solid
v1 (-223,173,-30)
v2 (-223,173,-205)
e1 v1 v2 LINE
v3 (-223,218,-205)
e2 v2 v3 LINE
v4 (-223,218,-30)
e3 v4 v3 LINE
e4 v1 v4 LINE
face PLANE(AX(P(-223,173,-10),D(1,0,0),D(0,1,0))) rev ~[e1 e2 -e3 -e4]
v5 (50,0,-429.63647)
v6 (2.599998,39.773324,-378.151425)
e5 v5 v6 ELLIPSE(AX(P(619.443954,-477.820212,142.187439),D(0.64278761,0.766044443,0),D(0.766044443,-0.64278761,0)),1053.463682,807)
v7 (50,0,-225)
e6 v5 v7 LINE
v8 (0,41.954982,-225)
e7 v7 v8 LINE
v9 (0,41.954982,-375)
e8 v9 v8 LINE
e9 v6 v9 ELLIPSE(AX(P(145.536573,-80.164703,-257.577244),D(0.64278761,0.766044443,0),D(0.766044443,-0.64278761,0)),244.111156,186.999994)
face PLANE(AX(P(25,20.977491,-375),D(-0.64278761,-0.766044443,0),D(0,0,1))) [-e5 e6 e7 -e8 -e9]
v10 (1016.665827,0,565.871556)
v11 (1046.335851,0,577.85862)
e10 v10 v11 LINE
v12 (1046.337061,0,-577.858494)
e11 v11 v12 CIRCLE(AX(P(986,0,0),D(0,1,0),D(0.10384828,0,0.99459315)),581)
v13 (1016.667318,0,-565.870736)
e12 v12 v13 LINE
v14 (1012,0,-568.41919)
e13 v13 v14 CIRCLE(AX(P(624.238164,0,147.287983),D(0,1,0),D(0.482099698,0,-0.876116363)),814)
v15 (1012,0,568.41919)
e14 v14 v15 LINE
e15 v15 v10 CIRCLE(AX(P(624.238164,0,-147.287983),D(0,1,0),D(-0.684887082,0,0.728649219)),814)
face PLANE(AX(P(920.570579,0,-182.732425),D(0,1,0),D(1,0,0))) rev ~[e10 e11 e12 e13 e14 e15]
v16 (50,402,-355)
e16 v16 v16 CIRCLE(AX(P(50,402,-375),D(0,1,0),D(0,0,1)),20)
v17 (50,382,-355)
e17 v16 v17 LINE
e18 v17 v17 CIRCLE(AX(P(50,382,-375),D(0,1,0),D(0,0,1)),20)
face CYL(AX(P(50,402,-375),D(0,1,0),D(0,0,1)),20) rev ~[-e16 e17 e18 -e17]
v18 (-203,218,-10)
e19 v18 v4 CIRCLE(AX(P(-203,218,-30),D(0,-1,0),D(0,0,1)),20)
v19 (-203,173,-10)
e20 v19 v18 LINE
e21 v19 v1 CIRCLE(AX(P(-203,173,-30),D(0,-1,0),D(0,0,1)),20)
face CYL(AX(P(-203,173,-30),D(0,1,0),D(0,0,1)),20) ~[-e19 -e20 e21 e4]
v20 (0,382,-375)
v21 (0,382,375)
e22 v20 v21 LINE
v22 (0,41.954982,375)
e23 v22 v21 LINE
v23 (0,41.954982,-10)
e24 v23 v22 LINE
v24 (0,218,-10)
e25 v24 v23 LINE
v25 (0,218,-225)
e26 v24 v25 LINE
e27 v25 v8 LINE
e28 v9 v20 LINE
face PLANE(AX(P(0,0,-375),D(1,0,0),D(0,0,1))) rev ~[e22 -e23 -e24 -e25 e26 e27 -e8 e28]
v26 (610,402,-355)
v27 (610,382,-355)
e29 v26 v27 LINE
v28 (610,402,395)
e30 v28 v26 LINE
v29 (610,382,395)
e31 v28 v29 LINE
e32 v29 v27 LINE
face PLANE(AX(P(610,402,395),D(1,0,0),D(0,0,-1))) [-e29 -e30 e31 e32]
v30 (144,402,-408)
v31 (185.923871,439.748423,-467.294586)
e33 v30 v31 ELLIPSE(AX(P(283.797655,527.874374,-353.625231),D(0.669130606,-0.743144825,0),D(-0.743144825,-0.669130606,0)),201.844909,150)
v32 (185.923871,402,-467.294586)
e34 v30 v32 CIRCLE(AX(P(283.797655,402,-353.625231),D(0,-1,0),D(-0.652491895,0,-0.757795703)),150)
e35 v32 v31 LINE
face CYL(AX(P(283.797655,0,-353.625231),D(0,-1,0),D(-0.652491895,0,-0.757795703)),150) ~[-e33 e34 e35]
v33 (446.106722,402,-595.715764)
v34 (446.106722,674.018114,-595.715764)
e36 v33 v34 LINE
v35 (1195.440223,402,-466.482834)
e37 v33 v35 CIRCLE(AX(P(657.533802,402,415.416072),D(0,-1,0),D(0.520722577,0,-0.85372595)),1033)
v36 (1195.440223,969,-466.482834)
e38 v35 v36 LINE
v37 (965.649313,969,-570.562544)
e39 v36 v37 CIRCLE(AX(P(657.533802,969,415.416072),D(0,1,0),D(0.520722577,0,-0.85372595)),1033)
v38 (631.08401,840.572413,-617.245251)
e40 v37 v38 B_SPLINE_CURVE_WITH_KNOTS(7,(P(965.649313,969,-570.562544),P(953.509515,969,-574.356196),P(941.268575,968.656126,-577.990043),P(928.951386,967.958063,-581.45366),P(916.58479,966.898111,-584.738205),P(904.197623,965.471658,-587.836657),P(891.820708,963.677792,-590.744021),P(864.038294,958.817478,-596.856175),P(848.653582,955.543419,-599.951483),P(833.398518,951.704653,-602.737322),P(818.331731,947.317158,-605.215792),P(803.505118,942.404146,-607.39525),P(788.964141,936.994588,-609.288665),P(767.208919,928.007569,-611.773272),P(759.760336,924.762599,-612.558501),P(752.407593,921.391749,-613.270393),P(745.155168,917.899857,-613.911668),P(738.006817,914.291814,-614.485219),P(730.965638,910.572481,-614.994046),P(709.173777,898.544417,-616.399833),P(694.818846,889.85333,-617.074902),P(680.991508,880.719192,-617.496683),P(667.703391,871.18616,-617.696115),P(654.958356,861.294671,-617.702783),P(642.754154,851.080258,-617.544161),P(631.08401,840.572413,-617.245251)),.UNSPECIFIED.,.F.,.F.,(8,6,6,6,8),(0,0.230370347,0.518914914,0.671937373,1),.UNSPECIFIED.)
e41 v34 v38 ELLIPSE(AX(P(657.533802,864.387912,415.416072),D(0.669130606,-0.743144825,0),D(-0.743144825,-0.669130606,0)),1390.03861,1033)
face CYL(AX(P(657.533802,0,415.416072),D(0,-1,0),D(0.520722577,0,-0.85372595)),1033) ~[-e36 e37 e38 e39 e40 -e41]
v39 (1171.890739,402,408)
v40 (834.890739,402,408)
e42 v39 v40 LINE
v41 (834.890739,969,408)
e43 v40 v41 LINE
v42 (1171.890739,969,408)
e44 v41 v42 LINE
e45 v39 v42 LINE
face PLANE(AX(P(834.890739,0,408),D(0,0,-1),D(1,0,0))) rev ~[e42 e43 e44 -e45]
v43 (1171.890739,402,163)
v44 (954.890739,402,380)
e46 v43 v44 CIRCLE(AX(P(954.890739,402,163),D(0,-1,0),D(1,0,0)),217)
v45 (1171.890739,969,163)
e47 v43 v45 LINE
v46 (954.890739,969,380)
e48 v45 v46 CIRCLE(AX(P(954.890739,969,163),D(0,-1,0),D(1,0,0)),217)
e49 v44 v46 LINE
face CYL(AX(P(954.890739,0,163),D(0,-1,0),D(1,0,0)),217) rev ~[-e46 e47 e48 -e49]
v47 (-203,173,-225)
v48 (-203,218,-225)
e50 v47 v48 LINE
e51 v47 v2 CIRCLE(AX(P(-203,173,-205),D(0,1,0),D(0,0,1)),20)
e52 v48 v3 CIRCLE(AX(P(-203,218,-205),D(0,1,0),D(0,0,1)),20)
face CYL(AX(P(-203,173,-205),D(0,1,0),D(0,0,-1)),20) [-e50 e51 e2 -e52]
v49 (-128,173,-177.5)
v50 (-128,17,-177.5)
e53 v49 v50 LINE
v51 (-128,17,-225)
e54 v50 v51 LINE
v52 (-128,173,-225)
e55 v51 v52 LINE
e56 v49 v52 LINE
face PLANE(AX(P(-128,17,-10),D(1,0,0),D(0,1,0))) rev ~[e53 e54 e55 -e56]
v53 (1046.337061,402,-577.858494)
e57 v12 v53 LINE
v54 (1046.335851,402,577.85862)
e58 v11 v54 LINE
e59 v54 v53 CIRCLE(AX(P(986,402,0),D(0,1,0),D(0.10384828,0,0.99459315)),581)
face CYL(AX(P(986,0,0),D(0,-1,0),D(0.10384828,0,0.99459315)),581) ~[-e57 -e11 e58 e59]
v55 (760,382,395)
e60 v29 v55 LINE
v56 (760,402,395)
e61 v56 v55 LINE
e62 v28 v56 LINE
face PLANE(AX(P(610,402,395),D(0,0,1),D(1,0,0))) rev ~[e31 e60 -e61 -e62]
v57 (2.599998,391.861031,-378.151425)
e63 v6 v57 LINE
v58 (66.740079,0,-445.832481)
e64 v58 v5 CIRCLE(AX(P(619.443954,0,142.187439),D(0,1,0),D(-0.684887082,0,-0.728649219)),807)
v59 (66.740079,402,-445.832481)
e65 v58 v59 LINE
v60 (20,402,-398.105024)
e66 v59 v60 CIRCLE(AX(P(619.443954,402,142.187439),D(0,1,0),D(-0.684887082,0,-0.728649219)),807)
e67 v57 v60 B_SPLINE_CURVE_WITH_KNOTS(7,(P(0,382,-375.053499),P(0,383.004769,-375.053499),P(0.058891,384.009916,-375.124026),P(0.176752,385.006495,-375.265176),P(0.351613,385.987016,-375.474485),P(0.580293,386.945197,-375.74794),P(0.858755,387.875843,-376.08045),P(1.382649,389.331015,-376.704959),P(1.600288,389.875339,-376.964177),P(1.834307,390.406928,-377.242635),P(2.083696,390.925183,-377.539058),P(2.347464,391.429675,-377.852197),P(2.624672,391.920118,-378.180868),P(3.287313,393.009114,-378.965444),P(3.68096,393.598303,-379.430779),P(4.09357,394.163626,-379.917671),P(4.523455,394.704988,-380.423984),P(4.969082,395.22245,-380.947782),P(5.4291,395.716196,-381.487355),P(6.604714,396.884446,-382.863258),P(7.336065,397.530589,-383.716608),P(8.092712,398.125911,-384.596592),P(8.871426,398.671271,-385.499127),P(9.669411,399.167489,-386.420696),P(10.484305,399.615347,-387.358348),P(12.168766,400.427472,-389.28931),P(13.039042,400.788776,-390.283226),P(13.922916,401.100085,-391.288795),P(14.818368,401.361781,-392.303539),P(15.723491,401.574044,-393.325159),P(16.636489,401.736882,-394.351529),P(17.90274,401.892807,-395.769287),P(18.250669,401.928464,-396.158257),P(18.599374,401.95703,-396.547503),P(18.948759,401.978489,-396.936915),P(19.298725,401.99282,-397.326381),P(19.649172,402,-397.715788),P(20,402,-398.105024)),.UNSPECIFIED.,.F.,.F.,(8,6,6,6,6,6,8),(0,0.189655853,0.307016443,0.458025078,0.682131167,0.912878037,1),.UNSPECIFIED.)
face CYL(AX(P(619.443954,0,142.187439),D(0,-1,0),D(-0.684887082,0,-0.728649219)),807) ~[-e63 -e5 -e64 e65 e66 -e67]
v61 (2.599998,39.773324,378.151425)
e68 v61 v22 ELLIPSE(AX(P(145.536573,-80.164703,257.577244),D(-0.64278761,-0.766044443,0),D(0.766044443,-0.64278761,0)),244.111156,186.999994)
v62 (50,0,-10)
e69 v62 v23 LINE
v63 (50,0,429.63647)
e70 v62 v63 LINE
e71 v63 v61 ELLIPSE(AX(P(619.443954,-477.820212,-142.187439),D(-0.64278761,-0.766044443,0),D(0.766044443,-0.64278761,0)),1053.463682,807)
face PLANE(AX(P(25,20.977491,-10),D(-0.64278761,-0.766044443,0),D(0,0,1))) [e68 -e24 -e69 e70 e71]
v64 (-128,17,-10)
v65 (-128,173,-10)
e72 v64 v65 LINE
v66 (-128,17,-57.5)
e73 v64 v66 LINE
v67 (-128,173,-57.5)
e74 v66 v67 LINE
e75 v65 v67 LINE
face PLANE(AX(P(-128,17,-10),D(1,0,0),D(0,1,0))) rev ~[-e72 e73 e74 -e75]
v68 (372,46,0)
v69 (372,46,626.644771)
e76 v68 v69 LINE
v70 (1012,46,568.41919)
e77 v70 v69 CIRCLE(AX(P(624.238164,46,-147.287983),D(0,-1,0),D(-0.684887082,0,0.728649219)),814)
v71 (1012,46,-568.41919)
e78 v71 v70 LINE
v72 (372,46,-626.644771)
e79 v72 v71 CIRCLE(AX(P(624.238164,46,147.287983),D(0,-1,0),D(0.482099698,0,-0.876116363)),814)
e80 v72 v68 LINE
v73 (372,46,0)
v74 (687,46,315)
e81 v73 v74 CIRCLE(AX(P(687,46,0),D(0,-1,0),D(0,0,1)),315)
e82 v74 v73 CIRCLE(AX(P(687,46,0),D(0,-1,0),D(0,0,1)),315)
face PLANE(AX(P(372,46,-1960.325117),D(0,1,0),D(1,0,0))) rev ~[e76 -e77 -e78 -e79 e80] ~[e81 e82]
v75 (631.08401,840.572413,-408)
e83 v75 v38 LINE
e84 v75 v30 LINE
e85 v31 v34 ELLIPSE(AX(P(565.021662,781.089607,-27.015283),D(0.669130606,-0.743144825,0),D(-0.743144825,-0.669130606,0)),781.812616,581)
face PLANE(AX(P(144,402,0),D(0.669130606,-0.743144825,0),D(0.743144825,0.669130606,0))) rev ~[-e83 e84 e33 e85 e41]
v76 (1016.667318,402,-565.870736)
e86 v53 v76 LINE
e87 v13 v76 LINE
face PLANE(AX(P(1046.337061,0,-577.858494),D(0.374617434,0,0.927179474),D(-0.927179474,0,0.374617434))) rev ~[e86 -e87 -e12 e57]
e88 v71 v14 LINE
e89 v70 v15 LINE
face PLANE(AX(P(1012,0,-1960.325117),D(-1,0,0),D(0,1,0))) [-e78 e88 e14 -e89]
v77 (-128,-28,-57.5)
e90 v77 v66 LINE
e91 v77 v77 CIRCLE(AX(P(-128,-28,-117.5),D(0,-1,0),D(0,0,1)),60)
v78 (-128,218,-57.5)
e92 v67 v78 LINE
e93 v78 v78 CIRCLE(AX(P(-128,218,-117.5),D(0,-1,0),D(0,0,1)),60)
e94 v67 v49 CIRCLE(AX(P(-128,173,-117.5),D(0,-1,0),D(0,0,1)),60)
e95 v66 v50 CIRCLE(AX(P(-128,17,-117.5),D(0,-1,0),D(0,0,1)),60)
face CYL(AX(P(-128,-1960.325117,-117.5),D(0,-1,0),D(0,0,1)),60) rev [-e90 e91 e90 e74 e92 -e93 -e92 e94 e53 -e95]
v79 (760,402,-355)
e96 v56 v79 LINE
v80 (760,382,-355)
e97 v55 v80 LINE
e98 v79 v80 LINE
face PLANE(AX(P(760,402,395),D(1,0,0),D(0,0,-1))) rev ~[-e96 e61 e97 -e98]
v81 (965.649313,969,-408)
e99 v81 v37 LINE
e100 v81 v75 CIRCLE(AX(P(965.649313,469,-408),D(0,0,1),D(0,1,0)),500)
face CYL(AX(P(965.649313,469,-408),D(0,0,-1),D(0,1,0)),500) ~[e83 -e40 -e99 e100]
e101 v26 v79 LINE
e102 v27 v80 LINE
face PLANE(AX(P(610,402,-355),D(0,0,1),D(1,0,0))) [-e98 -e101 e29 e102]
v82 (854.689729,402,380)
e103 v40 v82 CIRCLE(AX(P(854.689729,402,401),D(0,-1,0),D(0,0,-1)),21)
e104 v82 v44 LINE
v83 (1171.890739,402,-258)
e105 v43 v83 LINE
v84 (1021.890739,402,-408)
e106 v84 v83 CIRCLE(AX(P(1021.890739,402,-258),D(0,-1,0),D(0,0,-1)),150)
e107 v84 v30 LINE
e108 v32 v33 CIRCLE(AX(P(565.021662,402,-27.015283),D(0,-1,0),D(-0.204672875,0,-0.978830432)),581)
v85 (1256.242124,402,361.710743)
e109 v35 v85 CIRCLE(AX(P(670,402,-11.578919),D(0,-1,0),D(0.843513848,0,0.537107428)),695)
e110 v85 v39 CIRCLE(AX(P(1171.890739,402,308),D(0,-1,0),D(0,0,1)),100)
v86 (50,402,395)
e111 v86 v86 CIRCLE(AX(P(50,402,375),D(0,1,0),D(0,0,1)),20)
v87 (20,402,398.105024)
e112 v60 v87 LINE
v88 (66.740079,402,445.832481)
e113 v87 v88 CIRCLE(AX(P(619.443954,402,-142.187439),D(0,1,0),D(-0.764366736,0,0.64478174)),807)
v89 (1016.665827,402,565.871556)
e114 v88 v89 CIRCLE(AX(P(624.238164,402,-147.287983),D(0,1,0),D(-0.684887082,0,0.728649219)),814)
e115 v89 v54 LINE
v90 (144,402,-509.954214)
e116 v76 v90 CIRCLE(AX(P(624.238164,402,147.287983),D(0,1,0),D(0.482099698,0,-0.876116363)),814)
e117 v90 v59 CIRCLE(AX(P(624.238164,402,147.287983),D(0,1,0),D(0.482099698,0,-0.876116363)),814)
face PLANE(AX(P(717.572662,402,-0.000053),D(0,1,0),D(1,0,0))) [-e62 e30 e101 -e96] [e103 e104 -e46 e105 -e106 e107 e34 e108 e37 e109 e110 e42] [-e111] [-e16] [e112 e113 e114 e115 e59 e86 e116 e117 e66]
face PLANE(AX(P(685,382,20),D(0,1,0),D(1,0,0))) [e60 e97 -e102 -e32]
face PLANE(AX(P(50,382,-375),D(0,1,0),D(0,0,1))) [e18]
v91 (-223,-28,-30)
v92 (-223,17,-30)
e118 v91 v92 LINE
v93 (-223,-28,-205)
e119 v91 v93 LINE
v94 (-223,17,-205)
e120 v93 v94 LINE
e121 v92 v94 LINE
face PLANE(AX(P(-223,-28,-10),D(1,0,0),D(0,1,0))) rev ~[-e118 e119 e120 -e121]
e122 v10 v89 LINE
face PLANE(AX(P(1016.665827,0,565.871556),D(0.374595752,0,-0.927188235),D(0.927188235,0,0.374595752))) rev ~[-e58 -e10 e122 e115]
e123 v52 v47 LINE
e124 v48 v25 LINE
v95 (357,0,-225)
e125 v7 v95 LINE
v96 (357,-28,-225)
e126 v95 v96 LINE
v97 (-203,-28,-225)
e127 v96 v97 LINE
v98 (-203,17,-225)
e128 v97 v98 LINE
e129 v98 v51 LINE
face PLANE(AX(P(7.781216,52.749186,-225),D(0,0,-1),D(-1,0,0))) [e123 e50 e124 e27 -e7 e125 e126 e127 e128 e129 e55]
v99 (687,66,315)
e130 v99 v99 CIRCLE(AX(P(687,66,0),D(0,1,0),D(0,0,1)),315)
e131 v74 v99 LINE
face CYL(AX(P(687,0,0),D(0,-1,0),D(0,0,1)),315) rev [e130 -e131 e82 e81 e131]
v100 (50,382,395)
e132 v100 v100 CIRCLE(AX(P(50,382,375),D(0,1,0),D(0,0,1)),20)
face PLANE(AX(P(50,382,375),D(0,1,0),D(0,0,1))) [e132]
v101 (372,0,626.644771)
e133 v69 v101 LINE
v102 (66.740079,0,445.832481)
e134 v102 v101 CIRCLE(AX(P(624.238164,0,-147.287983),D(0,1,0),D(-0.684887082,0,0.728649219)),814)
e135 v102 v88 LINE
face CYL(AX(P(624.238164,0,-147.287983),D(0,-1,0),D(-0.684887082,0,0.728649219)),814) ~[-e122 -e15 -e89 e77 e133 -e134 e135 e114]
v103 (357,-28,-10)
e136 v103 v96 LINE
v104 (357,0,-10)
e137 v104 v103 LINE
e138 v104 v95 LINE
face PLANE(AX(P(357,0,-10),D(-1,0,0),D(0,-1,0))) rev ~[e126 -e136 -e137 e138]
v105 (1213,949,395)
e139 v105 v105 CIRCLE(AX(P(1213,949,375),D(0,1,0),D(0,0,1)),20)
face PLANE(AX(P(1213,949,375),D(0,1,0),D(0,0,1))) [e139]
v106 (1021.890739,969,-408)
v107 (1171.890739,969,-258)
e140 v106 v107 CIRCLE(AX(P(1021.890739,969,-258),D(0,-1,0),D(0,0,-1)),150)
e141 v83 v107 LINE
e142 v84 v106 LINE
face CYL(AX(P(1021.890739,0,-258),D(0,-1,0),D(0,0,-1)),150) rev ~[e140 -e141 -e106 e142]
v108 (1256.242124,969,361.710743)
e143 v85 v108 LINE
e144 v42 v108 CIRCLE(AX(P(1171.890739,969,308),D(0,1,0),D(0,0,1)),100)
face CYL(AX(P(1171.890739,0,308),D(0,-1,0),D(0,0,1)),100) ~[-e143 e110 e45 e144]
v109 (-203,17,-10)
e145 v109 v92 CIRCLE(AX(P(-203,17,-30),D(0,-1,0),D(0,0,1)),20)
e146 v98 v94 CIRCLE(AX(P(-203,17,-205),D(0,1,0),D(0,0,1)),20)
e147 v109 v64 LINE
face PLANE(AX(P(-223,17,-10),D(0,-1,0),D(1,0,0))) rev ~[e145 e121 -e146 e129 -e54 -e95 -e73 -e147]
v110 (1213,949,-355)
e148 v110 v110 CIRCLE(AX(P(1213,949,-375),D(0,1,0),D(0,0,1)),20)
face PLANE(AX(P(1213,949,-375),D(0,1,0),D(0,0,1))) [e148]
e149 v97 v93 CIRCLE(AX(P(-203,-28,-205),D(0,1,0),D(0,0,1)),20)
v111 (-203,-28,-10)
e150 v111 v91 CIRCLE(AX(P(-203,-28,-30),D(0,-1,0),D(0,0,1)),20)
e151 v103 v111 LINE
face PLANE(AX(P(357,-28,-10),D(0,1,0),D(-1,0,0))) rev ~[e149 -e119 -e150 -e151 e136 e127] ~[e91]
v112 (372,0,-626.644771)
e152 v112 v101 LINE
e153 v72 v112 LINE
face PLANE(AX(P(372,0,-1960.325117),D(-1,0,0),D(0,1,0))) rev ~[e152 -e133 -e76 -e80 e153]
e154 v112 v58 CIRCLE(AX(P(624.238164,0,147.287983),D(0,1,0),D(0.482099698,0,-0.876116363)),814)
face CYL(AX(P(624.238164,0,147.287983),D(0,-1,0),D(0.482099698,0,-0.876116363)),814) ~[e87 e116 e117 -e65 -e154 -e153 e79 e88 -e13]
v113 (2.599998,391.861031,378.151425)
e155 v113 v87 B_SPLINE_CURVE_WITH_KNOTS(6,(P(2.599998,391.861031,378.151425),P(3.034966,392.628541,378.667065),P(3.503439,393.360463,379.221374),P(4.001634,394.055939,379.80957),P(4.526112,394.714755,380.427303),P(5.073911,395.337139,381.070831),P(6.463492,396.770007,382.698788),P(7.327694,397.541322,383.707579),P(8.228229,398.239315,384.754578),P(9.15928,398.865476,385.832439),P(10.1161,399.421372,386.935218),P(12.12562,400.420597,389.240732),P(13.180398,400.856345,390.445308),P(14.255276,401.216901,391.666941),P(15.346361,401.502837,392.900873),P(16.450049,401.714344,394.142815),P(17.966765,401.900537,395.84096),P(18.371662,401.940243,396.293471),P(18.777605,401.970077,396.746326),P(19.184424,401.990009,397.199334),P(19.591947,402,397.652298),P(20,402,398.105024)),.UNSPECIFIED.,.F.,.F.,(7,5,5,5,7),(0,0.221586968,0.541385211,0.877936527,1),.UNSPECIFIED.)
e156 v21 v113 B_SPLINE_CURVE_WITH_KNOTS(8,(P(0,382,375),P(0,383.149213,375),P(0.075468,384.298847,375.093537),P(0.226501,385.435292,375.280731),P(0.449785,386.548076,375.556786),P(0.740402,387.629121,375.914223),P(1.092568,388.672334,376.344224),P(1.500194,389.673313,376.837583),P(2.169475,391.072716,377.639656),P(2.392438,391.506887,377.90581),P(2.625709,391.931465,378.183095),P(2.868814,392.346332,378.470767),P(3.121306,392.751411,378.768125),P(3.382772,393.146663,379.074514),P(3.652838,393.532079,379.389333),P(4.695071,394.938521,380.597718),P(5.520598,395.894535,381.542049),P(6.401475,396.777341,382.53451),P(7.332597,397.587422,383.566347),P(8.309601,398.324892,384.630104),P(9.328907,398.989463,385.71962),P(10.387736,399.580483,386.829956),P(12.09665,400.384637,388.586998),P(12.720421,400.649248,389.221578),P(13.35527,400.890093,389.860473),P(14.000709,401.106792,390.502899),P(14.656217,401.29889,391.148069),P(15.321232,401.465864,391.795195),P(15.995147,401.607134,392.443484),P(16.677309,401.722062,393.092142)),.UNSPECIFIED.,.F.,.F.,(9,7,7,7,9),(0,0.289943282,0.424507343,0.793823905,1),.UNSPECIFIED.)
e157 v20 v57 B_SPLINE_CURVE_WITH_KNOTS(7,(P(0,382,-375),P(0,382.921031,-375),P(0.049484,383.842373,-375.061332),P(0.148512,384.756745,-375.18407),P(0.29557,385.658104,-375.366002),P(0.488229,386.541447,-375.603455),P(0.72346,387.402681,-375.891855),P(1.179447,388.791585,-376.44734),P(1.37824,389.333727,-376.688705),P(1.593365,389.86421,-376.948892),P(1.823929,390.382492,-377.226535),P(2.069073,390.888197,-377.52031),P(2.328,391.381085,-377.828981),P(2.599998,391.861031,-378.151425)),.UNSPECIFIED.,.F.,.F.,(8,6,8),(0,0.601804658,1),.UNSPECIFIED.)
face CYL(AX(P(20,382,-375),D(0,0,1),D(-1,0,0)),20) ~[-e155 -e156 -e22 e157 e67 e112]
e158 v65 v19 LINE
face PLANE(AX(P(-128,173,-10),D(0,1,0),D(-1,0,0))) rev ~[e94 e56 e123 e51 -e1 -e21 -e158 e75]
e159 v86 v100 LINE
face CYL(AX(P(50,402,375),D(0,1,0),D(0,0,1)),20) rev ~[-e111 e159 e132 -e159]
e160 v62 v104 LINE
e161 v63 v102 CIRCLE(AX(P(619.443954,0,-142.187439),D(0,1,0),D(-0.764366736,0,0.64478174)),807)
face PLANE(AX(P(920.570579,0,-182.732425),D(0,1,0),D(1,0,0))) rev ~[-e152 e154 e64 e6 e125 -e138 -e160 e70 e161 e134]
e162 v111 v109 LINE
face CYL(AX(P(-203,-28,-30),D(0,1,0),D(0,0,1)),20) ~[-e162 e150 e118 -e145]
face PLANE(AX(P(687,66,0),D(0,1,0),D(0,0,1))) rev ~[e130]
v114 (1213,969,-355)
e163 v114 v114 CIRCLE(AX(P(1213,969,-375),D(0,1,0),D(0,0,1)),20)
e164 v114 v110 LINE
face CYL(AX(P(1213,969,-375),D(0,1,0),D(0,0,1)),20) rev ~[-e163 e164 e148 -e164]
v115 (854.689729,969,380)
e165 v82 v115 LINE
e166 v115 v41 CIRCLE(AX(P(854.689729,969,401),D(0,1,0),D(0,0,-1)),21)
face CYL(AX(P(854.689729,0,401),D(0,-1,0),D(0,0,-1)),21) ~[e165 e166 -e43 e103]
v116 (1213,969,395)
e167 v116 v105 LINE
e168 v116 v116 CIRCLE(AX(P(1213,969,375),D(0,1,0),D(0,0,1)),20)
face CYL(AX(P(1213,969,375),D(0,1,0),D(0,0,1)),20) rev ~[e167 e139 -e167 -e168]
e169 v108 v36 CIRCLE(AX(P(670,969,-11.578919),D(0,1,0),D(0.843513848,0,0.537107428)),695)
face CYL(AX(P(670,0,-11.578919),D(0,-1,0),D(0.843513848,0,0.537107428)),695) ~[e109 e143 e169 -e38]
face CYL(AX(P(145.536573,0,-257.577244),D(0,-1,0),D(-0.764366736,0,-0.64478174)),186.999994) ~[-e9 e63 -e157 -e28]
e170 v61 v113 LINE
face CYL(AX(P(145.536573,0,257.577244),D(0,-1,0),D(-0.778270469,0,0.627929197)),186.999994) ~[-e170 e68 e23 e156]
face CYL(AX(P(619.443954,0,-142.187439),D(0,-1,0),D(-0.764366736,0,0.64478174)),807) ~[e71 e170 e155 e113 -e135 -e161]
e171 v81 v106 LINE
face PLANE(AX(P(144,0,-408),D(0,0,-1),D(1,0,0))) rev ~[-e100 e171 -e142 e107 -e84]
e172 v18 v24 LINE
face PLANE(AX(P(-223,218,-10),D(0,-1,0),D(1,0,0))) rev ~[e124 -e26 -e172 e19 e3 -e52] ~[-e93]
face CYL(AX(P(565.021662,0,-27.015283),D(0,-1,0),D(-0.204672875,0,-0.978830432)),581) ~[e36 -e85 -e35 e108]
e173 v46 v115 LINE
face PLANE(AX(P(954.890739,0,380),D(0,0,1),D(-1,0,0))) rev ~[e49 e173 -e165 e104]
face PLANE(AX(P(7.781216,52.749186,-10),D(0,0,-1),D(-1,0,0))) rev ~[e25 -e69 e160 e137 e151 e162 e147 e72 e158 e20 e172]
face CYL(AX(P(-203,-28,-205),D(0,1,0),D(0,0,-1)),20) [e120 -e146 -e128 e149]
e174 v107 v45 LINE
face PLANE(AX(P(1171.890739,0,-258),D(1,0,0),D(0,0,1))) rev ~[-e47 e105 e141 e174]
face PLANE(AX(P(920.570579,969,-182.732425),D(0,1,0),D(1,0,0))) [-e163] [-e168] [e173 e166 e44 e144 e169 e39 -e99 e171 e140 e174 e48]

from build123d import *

# Parameters (mm, degrees)
BOSS_EXTRUDE1_DEPTH     = 402
BOSS_EXTRUDE2_DEPTH     = 969
CUT_EXTRUDE1_DEPTH      = 1960.325116763
FILLET1_R               = 500
CUT_EXTRUDE2_START      = 402
SKETCH4_W               = 150
SKETCH4_H               = 750
CUT_EXTRUDE2_DEPTH      = 20
SKETCH7_R               = 20
CUT_EXTRUDE3_DEPTH      = 20
SKETCH8_R               = 20
CUT_EXTRUDE4_DEPTH      = 20
BOSS_EXTRUDE3_START     = -10
BOSS_EXTRUDE3_DEPTH     = 215
FILLET2_R               = 20
CUT_EXTRUDE5_DEPTH      = 226
CUT_EXTRUDE5_DEPTH_BACK = 1960.325116812
SKETCH10_R              = 60
CHAMFER1_SIZE           = 50
CHAMFER1_SIZE2          = 41.954981559
FILLET3_R               = 20
SKETCH11_R              = 315
CUT_EXTRUDE6_DEPTH      = 66
CUT_EXTRUDE7_DEPTH      = 1960.325116812
CUT_EXTRUDE7_DEPTH_BACK = 1960.325116812
SKETCH12_W              = 640
SKETCH12_H              = 46


with BuildPart() as part:
    # Sketch1 → Boss-Extrude1 (new body)
    with BuildSketch(Plane(origin=(0, 0, 0), x_dir=(1, 0, 0), z_dir=(0, 1, 0))):
        with BuildLine():
            Line((1046.337061031, 577.858493981), (1016.667317849, 565.870736079))
            ThreePointArc((1016.667317849, 565.870736079), (522.188011035, 660.289732015), (66.74007867, 445.832480877))
            ThreePointArc((66.74007867, 445.832480877), (33.691690874, 412.919114907), (2.599998001, 378.151425458))
            ThreePointArc((2.599998001, 378.151425458), (1.291392319, 376.582813438), (0, 375))
            Line((0, 375), (0, -375))
            ThreePointArc((0, -375), (1.291392319, -376.582813438), (2.599998001, -378.151425458))
            ThreePointArc((2.599998001, -378.151425458), (33.691690874, -412.919114907), (66.74007867, -445.832480877))
            ThreePointArc((66.74007867, -445.832480877), (522.187167102, -660.28962537), (1016.665827322, -565.871556268))
            Line((1016.665827322, -565.871556268), (1046.335850828, -577.858620343))
            ThreePointArc((1046.335850828, -577.858620343), (1567, -0.000608391), (1046.337061031, 577.858493981))
        make_face()
    extrude(amount=BOSS_EXTRUDE1_DEPTH)

    # Sketch2 → Boss-Extrude2 (add)
    with BuildSketch(Plane(origin=(0, 0, 0), x_dir=(1, 0, 0), z_dir=(0, 1, 0))):
        with BuildLine():
            Line((144, 408), (1021.890739397, 408))
            ThreePointArc((1021.890739397, 408), (1127.956756575, 364.066017178), (1171.890739397, 258))
            Line((1171.890739397, 258), (1171.890739397, -163))
            ThreePointArc((1171.890739397, -163), (1108.332910914, -316.442171517), (954.890739397, -380))
            Line((954.890739397, -380), (854.68972927, -380))
            ThreePointArc((854.68972927, -380), (837.543301071, -388.875644347), (834.890739397, -408))
            Line((834.890739397, -408), (1171.890739397, -408))
            ThreePointArc((1171.890739397, -408), (1219.999604094, -395.667195333), (1256.24212417, -361.710742752))
            ThreePointArc((1256.24212417, -361.710742752), (1363.13459057, 62.465453501), (1195.440223215, 466.482834313))
            ThreePointArc((1195.440223215, 466.482834313), (833.097116799, 602.555696564), (446.106721665, 595.715763658))
            ThreePointArc((446.106721665, 595.715763658), (307.869625647, 548.008401888), (185.923871205, 467.294586118))
            ThreePointArc((185.923871205, 467.294586118), (161.31953374, 440.222630818), (144, 408))
        make_face()
    extrude(amount=BOSS_EXTRUDE2_DEPTH)

    # Sketch3 → Cut-Extrude1 (cut, through all)
    with BuildSketch(Plane.XY):
        Polygon((144, 402), (773.717295908, 969), (144, 969), align=None)
    extrude(amount=-CUT_EXTRUDE1_DEPTH, mode=Mode.SUBTRACT)

    # Fillet1
    fillet1_edges = [part.edges().sort_by_distance(p)[0] for p in [
        (773.717295908, 969, -509.514721406),
    ]]
    fillet(fillet1_edges, radius=FILLET1_R)

    # Sketch4 → Cut-Extrude2 (cut)
    with BuildSketch(Plane(origin=(0, 0, 0), x_dir=(1, 0, 0), z_dir=(0, 1, 0)).offset(CUT_EXTRUDE2_START)):
        with Locations((685, -20)):
            Rectangle(SKETCH4_W, SKETCH4_H)
    extrude(amount=-CUT_EXTRUDE2_DEPTH, mode=Mode.SUBTRACT)

    # Sketch7 → Cut-Extrude3 (cut)
    with BuildSketch(Plane(origin=(0, 402, 0), x_dir=(1, 0, 0), z_dir=(0, 1, 0))):
        with Locations(Location((50, 375, 0), (0, 0, 270))):
            Circle(SKETCH7_R)
        with Locations(Location((50, -375, 0), (0, 0, 270))):
            Circle(SKETCH7_R)
    extrude(amount=-CUT_EXTRUDE3_DEPTH, mode=Mode.SUBTRACT)

    # Sketch8 → Cut-Extrude4 (cut)
    with BuildSketch(Plane(origin=(0, 969, 0), x_dir=(1, 0, 0), z_dir=(0, 1, 0))):
        with Locations(Location((1213, 375, 0), (0, 0, 270))):
            Circle(SKETCH8_R)
        with Locations(Location((1213, -375, 0), (0, 0, 270))):
            Circle(SKETCH8_R)
    extrude(amount=-CUT_EXTRUDE4_DEPTH, mode=Mode.SUBTRACT)

    # Sketch9 → Boss-Extrude3 (add)
    with BuildSketch(Plane.XY.offset(BOSS_EXTRUDE3_START)):
        Polygon((0, 0), (357, 0), (357, -28), (-223, -28), (-223, 17), (-128, 17), (-128, 173), (-223, 173), (-223, 218), (0, 218), align=None)
    extrude(amount=-BOSS_EXTRUDE3_DEPTH)

    # Fillet2
    fillet2_edges = [part.edges().sort_by_distance(p)[0] for p in [
        (-223, -5.5, -10),
        (-223, 195.5, -10),
        (-223, -5.5, -225),
        (-223, 195.5, -225),
    ]]
    fillet(fillet2_edges, radius=FILLET2_R)

    # Sketch10 → Cut-Extrude5 (cut, two sides: drawn at the far end of the back side and taken through both)
    with BuildSketch(Plane(origin=(0, 0, 0), x_dir=(1, 0, 0), z_dir=(0, 1, 0)).offset(-CUT_EXTRUDE5_DEPTH_BACK)):
        with Locations(Location((-128, 117.5, 0), (0, 0, 270))):
            Circle(SKETCH10_R)
    extrude(amount=CUT_EXTRUDE5_DEPTH + CUT_EXTRUDE5_DEPTH_BACK, mode=Mode.SUBTRACT)

    # Chamfer1
    chamfer1_edges = [part.edges().sort_by_distance(p)[0] for p in [
        (0, 0, -300),
        (0, 0, 182.5),
    ]]
    chamfer1_side = [part.faces().sort_by_distance(p)[0] for p in [
        (765.492068196, 0, 5.511575813),
    ]]
    chamfer(chamfer1_edges, length=CHAMFER1_SIZE, length2=CHAMFER1_SIZE2, reference=chamfer1_side[0])

    # Fillet3
    fillet3_edges = [part.edges().sort_by_distance(p)[0] for p in [
        (0, 402, 0),
    ]]
    fillet(fillet3_edges, radius=FILLET3_R)

    # Sketch11 → Cut-Extrude6 (cut)
    with BuildSketch(Plane(origin=(0, 0, 0), x_dir=(1, 0, 0), z_dir=(0, 1, 0))):
        with Locations(Location((687, 0, 0), (0, 0, 270))):
            Circle(SKETCH11_R)
    extrude(amount=CUT_EXTRUDE6_DEPTH, mode=Mode.SUBTRACT)

    # Sketch12 → Cut-Extrude7 (cut, two sides: drawn at the far end of the back side and taken through both)
    with BuildSketch(Plane.XY.offset(-CUT_EXTRUDE7_DEPTH_BACK)):
        with Locations((692, 23)):
            Rectangle(SKETCH12_W, SKETCH12_H)
    extrude(amount=CUT_EXTRUDE7_DEPTH + CUT_EXTRUDE7_DEPTH_BACK, mode=Mode.SUBTRACT)


solid = part.part
